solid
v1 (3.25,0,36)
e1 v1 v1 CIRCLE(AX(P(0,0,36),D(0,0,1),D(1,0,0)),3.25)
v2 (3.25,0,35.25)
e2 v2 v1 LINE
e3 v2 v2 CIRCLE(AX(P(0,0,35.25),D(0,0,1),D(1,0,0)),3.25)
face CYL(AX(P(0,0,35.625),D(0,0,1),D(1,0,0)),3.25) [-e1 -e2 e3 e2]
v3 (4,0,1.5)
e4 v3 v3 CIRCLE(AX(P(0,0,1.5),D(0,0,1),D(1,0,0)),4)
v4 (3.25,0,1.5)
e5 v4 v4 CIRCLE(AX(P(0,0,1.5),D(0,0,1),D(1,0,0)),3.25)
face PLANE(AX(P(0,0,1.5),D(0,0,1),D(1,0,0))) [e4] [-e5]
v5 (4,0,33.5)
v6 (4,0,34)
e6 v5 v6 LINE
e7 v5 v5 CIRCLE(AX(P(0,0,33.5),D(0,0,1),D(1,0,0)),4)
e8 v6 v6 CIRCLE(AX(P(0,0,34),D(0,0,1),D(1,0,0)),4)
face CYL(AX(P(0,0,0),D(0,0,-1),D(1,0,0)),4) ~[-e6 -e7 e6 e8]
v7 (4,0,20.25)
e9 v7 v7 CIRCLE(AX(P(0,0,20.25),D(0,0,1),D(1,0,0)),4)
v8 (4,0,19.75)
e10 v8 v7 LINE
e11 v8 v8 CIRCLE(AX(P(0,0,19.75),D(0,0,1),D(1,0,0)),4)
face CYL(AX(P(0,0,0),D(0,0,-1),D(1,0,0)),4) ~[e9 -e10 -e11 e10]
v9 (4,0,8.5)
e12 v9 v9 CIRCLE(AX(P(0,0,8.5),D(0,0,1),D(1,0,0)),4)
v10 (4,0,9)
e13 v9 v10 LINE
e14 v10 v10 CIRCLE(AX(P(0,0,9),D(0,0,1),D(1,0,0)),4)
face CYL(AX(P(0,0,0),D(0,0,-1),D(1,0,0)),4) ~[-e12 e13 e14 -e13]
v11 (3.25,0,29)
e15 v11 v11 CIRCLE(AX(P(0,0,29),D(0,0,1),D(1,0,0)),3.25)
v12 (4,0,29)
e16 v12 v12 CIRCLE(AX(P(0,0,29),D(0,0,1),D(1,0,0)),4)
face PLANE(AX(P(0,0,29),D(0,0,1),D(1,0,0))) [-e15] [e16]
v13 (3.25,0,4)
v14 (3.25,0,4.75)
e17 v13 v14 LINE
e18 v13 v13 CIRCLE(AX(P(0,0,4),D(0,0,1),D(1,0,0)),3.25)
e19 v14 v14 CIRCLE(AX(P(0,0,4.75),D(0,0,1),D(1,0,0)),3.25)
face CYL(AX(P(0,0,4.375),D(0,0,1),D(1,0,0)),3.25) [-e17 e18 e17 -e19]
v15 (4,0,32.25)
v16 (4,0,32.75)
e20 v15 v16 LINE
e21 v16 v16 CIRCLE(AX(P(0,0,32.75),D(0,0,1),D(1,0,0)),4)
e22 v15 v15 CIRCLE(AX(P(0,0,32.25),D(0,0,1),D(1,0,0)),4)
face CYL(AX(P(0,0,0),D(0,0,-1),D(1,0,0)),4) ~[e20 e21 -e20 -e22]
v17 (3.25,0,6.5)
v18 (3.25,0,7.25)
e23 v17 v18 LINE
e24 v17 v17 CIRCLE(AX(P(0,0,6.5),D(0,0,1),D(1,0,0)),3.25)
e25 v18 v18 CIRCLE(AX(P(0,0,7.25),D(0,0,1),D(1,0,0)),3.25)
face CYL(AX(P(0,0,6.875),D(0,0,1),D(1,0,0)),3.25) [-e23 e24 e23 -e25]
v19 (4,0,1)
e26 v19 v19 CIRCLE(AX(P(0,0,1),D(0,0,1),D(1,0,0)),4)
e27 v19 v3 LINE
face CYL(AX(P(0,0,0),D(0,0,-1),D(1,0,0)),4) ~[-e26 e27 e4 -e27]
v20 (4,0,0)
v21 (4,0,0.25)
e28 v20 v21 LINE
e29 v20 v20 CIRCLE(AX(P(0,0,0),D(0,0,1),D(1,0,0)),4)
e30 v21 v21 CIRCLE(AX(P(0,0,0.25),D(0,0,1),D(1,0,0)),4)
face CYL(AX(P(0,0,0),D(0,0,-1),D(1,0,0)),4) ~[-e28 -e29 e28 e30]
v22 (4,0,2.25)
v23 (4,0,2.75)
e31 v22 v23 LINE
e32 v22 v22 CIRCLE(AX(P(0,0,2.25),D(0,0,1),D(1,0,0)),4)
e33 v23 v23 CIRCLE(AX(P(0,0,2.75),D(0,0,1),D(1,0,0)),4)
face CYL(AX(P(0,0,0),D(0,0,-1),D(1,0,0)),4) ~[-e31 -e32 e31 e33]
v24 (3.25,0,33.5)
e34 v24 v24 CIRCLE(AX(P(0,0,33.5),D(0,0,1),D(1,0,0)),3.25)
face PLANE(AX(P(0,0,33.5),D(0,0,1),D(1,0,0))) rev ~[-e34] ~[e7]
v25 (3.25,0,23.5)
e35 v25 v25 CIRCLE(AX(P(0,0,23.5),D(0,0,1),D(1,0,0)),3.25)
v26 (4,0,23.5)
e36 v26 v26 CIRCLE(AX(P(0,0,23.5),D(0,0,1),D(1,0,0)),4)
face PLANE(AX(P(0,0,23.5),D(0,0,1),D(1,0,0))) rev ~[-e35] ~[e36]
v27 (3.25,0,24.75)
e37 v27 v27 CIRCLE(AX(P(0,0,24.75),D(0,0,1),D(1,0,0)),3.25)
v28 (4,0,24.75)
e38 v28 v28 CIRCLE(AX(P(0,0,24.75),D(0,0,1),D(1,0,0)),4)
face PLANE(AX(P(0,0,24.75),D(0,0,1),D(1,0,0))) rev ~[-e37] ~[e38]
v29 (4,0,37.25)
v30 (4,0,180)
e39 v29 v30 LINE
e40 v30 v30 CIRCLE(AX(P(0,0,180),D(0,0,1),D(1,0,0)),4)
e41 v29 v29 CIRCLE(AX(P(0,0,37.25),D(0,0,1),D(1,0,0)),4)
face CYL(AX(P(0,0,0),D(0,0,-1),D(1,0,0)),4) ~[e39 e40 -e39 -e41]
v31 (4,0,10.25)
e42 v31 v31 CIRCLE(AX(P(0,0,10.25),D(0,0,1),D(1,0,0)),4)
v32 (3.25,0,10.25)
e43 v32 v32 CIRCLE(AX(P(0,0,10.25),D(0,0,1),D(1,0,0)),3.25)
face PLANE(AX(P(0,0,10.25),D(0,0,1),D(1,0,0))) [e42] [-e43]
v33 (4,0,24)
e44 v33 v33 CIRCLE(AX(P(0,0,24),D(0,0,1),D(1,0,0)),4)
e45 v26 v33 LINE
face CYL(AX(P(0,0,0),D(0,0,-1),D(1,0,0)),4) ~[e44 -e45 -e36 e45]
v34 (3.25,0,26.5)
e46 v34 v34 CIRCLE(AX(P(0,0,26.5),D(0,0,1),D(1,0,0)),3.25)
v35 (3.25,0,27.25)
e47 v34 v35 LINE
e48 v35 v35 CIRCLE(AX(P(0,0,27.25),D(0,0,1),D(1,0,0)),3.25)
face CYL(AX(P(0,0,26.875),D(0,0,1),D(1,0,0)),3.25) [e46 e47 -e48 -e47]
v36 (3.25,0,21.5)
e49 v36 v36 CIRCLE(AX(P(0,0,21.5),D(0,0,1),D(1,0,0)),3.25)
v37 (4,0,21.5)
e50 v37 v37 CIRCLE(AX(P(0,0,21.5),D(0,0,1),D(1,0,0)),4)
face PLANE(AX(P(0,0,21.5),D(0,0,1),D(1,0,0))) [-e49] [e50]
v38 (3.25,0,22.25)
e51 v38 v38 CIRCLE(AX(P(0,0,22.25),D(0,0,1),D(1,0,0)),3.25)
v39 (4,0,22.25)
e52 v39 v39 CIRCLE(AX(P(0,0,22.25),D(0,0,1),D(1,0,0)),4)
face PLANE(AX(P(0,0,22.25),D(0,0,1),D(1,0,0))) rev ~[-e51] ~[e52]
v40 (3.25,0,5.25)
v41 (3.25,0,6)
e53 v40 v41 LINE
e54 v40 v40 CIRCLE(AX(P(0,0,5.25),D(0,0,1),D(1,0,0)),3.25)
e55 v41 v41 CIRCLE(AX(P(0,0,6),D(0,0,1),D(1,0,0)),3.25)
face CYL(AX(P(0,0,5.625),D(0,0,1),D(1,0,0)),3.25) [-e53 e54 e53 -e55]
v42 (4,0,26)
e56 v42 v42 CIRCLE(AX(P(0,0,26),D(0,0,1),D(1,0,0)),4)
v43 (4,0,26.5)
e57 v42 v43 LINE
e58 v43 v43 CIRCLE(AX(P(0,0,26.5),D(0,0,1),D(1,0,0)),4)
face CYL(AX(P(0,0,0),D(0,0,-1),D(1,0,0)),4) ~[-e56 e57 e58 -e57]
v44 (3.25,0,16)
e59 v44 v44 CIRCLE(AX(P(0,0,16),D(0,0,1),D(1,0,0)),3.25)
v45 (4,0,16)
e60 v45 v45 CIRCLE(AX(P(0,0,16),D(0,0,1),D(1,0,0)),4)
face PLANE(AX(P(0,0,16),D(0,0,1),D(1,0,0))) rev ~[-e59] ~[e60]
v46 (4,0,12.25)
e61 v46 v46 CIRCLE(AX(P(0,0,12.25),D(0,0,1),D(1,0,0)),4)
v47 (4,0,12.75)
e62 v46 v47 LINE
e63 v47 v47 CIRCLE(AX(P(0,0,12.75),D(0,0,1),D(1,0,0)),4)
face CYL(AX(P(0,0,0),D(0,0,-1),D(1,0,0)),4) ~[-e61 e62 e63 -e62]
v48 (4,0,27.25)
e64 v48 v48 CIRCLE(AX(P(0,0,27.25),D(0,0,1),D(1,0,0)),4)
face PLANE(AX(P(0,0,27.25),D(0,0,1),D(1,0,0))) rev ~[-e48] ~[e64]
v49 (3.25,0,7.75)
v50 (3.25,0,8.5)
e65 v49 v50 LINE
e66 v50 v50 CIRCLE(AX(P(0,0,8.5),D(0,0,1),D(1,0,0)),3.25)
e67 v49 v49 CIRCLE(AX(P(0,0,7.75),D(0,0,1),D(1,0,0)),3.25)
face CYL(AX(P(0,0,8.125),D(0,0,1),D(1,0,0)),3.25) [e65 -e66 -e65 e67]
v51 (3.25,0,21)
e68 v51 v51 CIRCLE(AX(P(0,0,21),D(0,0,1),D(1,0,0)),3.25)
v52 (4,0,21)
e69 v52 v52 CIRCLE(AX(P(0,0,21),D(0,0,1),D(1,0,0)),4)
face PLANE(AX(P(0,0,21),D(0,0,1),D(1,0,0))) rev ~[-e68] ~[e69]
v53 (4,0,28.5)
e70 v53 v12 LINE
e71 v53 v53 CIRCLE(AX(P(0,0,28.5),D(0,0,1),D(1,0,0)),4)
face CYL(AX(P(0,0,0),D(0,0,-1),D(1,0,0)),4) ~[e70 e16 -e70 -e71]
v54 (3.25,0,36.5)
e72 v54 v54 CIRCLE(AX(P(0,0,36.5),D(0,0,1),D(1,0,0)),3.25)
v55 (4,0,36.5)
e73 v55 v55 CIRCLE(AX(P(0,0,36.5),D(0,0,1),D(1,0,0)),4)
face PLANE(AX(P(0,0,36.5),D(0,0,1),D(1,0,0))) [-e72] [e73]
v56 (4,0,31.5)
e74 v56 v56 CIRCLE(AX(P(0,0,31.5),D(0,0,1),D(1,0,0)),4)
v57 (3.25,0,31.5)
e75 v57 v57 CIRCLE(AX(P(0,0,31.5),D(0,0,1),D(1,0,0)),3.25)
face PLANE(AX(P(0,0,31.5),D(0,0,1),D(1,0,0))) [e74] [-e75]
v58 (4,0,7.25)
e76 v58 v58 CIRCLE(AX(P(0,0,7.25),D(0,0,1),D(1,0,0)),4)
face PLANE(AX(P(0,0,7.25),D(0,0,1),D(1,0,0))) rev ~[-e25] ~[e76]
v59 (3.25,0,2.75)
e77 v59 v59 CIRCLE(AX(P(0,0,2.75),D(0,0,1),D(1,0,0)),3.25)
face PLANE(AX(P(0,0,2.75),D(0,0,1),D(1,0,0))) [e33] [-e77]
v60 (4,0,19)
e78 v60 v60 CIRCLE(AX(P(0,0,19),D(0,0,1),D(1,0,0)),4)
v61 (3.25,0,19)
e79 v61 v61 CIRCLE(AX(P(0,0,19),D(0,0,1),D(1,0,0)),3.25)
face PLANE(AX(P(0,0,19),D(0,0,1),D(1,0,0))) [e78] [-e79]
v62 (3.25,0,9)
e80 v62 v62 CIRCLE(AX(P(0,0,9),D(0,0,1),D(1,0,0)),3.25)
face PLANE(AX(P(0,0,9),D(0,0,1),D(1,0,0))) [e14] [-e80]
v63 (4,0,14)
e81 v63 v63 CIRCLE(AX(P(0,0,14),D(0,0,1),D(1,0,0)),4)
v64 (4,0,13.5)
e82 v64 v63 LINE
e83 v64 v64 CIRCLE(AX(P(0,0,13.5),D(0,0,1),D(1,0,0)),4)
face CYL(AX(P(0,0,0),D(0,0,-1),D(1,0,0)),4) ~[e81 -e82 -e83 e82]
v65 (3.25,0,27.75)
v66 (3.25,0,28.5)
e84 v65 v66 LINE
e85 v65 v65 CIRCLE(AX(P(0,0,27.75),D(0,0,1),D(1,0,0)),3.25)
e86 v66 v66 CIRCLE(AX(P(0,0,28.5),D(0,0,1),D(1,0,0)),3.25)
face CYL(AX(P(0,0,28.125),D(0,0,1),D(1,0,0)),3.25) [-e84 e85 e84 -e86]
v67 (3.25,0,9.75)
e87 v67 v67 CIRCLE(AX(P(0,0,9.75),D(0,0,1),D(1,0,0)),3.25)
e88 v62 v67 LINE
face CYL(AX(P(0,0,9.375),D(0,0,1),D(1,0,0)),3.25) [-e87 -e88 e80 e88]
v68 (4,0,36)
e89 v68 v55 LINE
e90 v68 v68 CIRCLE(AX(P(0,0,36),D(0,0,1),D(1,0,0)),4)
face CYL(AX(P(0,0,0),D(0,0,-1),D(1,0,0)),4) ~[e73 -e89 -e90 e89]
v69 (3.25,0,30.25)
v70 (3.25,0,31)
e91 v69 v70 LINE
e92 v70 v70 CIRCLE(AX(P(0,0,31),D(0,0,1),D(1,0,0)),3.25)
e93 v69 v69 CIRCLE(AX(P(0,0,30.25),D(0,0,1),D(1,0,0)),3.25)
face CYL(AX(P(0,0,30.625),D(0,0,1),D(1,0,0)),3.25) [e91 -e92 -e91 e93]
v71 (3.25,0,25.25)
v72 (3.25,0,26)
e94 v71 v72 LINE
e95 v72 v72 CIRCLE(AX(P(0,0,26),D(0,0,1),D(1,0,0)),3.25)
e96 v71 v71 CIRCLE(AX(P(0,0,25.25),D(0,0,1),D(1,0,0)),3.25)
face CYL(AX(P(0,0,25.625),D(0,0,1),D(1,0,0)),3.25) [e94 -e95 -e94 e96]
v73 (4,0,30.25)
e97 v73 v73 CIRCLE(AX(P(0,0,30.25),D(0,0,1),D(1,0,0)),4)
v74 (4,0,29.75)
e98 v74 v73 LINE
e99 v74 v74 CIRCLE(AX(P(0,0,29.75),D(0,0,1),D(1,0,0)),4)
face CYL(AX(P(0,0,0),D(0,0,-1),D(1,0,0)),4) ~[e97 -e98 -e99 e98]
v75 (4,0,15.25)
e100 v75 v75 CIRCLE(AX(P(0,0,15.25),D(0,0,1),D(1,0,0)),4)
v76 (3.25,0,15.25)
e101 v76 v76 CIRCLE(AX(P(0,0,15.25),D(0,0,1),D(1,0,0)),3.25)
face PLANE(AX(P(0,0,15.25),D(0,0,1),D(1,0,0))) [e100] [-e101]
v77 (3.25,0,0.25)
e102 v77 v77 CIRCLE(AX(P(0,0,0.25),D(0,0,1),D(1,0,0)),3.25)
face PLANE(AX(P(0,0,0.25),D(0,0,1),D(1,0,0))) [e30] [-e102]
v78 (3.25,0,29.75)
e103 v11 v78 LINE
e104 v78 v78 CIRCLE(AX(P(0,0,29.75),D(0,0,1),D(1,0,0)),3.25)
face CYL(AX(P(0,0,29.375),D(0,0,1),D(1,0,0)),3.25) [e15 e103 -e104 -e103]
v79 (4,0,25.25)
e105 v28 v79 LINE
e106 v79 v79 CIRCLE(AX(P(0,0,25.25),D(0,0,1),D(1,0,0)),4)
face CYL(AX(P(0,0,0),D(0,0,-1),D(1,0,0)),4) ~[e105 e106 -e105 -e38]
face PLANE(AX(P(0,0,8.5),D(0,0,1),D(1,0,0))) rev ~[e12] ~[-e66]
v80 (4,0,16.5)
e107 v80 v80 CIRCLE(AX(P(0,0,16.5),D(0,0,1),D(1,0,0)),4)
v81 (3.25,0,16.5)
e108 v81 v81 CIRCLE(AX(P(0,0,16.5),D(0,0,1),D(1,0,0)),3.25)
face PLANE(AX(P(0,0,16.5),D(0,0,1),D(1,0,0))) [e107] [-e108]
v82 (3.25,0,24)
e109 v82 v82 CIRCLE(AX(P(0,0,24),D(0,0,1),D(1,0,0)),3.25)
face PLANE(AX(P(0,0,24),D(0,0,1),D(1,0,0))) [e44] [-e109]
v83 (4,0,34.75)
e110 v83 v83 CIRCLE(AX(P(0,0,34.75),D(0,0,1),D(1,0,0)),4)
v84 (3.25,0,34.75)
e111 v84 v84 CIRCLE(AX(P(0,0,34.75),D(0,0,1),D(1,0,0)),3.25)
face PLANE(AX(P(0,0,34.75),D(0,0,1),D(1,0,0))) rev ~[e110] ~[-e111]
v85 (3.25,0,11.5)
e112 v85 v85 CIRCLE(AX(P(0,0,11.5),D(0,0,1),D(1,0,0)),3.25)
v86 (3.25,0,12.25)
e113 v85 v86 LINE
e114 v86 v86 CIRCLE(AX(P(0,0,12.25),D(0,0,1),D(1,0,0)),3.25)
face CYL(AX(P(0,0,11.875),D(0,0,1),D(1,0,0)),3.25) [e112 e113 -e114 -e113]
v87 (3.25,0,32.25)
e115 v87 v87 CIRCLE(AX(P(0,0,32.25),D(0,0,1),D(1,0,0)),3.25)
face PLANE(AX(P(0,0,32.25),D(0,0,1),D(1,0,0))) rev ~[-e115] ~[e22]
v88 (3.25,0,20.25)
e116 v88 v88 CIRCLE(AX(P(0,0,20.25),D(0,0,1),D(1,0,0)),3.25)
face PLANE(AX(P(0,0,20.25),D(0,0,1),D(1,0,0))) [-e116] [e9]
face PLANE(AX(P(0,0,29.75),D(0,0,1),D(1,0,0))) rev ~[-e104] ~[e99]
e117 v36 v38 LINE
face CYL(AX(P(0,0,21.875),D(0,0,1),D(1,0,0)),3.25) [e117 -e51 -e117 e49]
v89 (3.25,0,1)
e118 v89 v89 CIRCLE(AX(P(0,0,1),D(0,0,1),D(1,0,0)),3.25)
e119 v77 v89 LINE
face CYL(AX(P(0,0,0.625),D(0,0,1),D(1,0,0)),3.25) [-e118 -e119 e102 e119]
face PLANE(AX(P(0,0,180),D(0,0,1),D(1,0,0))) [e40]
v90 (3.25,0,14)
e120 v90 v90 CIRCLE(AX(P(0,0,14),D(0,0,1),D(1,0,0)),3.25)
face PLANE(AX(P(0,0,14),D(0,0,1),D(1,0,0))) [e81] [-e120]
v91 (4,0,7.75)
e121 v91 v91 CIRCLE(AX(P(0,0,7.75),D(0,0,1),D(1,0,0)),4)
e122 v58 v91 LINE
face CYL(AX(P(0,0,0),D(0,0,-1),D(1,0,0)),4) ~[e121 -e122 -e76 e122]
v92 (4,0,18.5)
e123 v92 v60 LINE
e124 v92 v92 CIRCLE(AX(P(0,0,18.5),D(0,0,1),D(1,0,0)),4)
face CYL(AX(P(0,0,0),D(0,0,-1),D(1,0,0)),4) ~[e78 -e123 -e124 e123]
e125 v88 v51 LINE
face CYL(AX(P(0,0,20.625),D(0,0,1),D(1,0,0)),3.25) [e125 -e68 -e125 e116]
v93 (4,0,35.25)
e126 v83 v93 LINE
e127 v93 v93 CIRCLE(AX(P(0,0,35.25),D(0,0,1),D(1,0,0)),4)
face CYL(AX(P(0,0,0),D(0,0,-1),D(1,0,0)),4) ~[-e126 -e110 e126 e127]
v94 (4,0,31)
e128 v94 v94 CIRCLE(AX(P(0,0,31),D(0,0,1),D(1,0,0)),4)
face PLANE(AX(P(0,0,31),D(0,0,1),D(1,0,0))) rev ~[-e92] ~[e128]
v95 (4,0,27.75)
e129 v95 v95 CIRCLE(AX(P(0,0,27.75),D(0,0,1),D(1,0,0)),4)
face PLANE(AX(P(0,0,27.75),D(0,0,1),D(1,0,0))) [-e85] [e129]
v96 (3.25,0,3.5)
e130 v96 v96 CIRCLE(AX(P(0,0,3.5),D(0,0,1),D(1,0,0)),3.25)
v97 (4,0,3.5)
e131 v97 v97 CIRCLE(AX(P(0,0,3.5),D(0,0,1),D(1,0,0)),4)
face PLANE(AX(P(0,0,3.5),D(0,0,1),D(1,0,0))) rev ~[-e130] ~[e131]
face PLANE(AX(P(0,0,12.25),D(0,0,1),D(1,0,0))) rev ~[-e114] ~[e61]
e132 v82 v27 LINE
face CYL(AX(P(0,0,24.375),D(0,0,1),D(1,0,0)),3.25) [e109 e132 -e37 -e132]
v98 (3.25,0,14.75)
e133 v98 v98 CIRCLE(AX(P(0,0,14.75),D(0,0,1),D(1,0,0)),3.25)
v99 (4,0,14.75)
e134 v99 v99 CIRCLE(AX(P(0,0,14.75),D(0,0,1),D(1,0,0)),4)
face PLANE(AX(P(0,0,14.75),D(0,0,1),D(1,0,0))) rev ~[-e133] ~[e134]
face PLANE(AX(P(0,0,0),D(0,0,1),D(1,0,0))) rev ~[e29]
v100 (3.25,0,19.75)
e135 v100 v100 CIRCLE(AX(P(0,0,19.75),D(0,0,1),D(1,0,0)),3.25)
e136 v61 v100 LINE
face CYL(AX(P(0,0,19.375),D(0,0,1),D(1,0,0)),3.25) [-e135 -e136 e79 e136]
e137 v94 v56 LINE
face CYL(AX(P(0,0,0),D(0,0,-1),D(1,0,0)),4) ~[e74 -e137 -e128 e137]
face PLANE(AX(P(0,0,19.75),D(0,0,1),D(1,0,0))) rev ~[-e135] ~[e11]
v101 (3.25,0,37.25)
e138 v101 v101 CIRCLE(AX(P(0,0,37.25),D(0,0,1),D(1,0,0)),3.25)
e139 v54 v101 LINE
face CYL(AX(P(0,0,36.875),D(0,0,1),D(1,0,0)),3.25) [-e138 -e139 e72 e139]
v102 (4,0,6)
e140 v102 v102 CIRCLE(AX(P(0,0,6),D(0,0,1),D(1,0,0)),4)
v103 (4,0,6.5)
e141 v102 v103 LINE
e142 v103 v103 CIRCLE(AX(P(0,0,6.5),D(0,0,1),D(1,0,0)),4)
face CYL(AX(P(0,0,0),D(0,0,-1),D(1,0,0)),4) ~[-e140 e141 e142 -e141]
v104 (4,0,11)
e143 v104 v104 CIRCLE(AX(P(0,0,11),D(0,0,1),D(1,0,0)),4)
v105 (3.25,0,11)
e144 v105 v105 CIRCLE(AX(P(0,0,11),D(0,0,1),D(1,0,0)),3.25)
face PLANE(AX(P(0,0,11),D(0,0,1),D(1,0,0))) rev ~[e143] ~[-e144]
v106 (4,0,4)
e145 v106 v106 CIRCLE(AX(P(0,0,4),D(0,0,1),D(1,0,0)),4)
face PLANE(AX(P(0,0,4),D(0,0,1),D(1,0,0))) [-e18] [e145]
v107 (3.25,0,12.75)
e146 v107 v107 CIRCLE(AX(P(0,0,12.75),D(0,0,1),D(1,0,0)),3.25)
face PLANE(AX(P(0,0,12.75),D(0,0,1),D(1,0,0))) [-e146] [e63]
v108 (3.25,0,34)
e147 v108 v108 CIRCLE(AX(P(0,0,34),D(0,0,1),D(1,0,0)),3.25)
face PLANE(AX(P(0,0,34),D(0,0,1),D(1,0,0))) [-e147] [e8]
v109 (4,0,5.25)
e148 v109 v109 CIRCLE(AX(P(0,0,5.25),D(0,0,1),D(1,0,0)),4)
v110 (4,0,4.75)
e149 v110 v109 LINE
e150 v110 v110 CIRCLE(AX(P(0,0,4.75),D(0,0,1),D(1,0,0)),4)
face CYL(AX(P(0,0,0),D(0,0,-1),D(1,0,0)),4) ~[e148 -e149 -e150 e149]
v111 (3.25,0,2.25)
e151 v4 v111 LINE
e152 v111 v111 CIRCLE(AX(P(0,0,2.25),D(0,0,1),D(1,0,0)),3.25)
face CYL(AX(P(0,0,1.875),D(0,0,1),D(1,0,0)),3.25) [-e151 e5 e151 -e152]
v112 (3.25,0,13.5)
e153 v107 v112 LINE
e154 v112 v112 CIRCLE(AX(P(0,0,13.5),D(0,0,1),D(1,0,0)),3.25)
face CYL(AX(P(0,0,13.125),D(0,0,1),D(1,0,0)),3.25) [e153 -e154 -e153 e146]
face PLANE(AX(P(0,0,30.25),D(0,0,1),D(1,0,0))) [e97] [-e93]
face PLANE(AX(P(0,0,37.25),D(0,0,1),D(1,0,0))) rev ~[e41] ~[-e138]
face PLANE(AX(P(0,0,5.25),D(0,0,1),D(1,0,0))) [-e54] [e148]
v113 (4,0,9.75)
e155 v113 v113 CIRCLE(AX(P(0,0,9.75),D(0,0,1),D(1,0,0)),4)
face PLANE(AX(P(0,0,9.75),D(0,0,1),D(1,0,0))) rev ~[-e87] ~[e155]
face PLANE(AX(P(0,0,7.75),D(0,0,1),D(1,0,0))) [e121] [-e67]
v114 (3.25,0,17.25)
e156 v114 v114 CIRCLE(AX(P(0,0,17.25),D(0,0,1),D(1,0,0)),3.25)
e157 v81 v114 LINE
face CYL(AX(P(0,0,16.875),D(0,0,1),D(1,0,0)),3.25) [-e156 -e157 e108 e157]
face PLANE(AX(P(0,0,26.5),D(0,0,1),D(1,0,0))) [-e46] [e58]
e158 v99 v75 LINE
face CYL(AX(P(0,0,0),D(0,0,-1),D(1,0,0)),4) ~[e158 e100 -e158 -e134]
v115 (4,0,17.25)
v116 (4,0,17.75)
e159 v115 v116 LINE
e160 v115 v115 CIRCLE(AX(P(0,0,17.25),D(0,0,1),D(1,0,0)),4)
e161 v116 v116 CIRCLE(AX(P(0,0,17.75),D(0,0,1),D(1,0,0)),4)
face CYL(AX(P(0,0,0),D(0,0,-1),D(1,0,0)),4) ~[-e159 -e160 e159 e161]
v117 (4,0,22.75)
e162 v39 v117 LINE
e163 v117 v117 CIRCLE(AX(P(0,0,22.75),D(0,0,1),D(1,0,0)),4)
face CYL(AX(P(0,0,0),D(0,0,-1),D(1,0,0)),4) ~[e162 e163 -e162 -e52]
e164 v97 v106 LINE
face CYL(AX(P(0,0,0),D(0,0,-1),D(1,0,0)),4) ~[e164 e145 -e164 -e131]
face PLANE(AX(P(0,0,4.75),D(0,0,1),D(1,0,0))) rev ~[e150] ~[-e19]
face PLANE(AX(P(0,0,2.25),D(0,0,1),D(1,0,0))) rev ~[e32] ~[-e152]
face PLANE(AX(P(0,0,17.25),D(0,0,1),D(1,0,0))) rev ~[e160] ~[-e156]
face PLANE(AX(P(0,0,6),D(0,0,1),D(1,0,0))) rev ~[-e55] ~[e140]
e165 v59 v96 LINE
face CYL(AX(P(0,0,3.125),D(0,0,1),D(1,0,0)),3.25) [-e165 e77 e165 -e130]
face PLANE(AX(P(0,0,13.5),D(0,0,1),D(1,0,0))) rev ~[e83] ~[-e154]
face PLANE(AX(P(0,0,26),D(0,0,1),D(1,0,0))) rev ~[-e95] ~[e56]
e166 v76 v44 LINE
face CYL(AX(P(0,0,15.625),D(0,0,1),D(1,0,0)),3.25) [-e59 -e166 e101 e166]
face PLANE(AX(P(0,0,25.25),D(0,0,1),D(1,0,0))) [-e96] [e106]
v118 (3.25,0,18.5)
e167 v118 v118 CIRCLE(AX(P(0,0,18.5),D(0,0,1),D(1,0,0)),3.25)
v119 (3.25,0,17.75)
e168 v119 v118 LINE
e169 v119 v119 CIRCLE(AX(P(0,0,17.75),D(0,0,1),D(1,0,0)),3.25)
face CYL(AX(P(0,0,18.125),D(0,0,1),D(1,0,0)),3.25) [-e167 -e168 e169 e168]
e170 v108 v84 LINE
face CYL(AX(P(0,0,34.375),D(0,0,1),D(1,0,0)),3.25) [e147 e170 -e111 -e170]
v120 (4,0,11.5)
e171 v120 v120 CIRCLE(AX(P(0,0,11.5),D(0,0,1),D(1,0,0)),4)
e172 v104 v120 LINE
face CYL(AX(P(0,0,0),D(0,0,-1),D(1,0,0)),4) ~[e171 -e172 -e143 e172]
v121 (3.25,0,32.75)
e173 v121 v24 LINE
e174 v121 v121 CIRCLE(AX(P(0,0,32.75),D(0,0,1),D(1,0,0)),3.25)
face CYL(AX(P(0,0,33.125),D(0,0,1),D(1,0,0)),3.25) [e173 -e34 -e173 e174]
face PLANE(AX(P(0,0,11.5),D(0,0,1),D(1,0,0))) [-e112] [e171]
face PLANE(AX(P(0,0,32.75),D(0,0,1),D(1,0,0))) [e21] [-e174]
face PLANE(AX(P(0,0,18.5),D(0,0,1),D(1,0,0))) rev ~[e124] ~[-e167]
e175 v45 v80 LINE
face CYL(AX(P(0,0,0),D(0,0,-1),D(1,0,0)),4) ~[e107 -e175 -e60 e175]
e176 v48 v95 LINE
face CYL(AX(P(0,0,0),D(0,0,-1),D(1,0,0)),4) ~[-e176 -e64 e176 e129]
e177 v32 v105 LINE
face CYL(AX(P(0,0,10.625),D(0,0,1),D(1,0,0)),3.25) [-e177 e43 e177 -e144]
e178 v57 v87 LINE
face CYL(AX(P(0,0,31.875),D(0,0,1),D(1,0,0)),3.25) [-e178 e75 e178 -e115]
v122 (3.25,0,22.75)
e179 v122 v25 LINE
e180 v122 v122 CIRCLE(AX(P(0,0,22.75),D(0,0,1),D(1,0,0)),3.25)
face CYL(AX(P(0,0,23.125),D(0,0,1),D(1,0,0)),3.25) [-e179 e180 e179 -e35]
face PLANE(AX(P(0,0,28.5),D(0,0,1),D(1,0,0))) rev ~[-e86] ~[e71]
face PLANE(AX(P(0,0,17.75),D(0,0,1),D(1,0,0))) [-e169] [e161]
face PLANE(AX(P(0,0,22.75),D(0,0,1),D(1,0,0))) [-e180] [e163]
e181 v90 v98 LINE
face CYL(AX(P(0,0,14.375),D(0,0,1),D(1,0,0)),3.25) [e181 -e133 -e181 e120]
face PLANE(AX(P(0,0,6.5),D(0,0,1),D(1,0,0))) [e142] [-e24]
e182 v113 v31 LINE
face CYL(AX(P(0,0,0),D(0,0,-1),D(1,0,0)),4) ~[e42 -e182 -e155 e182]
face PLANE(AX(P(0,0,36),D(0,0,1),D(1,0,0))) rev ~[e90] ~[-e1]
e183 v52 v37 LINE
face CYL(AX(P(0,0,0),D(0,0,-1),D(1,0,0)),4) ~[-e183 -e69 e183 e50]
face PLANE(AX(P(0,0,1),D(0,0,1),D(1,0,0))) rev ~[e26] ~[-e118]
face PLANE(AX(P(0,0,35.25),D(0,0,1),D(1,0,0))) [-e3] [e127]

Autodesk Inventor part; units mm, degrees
sketch "Skizze1" plane through (0, 0, 0) normal (0, 0, 1) x (1, 0, 0)
  circle A0 centre (0, 0) radius 4
extrude "Extrusion1" add sketch "Skizze1" along normal blind 180
ref_plane "Arbeitsebene1" through (0, 0, 0.625) normal (0, 0, 1) x (1, 0, 0)
sketch "Skizze2" plane through (0, 0, 0.625) normal (0, 0, 1) x (1, 0, 0)
  circle A0 centre (0, 0) radius 4
  circle A1 centre (0, 0) radius 3.25
extrude "Extrusion2" cut sketch "Skizze2" along normal mid plane 0.75
ref_plane "Arbeitsebene2" through (0, 0, 1.875) normal (0, 0, 1) x (1, 0, 0)
sketch "Skizze3" plane through (0, 0, 1.875) normal (0, 0, 1) x (1, 0, 0)
  circle A0 centre (0, 0) radius 4
  circle A1 centre (0, 0) radius 3.25
extrude "Extrusion3" cut sketch "Skizze3" along normal mid plane 0.75
ref_plane "Arbeitsebene3" through (0, 0, 3.125) normal (0, 0, 1) x (1, 0, 0)
sketch "Skizze4" plane through (0, 0, 3.125) normal (0, 0, 1) x (1, 0, 0)
  circle A0 centre (0, 0) radius 4
  circle A1 centre (0, 0) radius 3.25
extrude "Extrusion4" cut sketch "Skizze4" along normal mid plane 0.75
ref_plane "Arbeitsebene4" through (0, 0, 4.375) normal (0, 0, 1) x (1, 0, 0)
sketch "Skizze5" plane through (0, 0, 4.375) normal (0, 0, 1) x (1, 0, 0)
  circle A0 centre (0, 0) radius 4
  circle A1 centre (0, 0) radius 3.25
extrude "Extrusion5" cut sketch "Skizze5" along normal mid plane 0.75
ref_plane "Arbeitsebene5" through (0, 0, 5.625) normal (0, 0, 1) x (1, 0, 0)
sketch "Skizze6" plane through (0, 0, 5.625) normal (0, 0, 1) x (1, 0, 0)
  circle A0 centre (0, 0) radius 4
  circle A1 centre (0, 0) radius 3.25
extrude "Extrusion6" cut sketch "Skizze6" along normal mid plane 0.75
ref_plane "Arbeitsebene6" through (0, 0, 6.875) normal (0, 0, 1) x (1, 0, 0)
sketch "Skizze7" plane through (0, 0, 6.875) normal (0, 0, 1) x (1, 0, 0)
  circle A0 centre (0, 0) radius 4
  circle A1 centre (0, 0) radius 3.25
extrude "Extrusion7" cut sketch "Skizze7" along normal mid plane 0.75
ref_plane "Arbeitsebene7" through (0, 0, 8.125) normal (0, 0, 1) x (1, 0, 0)
sketch "Skizze8" plane through (0, 0, 8.125) normal (0, 0, 1) x (1, 0, 0)
  circle A0 centre (0, 0) radius 4
  circle A1 centre (0, 0) radius 3.25
extrude "Extrusion8" cut sketch "Skizze8" along normal mid plane 0.75
ref_plane "Arbeitsebene8" through (0, 0, 9.375) normal (0, 0, 1) x (1, 0, 0)
sketch "Skizze9" plane through (0, 0, 9.375) normal (0, 0, 1) x (1, 0, 0)
  circle A0 centre (0, 0) radius 4
  circle A1 centre (0, 0) radius 3.25
extrude "Extrusion9" cut sketch "Skizze9" along normal mid plane 0.75
ref_plane "Arbeitsebene9" through (0, 0, 10.625) normal (0, 0, 1) x (1, 0, 0)
sketch "Skizze10" plane through (0, 0, 10.625) normal (0, 0, 1) x (1, 0, 0)
  circle A0 centre (0, 0) radius 4
  circle A1 centre (0, 0) radius 3.25
extrude "Extrusion10" cut sketch "Skizze10" along normal mid plane 0.75
ref_plane "Arbeitsebene10" through (0, 0, 11.875) normal (0, 0, 1) x (1, 0, 0)
sketch "Skizze11" plane through (0, 0, 11.875) normal (0, 0, 1) x (1, 0, 0)
  circle A0 centre (0, 0) radius 4
  circle A1 centre (0, 0) radius 3.25
extrude "Extrusion11" cut sketch "Skizze11" along normal mid plane 0.75
ref_plane "Arbeitsebene11" through (0, 0, 13.125) normal (0, 0, 1) x (1, 0, 0)
sketch "Skizze12" plane through (0, 0, 13.125) normal (0, 0, 1) x (1, 0, 0)
  circle A0 centre (0, 0) radius 4
  circle A1 centre (0, 0) radius 3.25
extrude "Extrusion12" cut sketch "Skizze12" along normal mid plane 0.75
ref_plane "Arbeitsebene12" through (0, 0, 14.375) normal (0, 0, 1) x (1, 0, 0)
sketch "Skizze13" plane through (0, 0, 14.375) normal (0, 0, 1) x (1, 0, 0)
  circle A0 centre (0, 0) radius 4
  circle A1 centre (0, 0) radius 3.25
extrude "Extrusion13" cut sketch "Skizze13" along normal mid plane 0.75
ref_plane "Arbeitsebene13" through (0, 0, 15.625) normal (0, 0, 1) x (1, 0, 0)
sketch "Skizze14" plane through (0, 0, 15.625) normal (0, 0, 1) x (1, 0, 0)
  circle A0 centre (0, 0) radius 4
  circle A1 centre (0, 0) radius 3.25
extrude "Extrusion14" cut sketch "Skizze14" along normal mid plane 0.75
ref_plane "Arbeitsebene14" through (0, 0, 16.875) normal (0, 0, 1) x (1, 0, 0)
sketch "Skizze15" plane through (0, 0, 16.875) normal (0, 0, 1) x (1, 0, 0)
  circle A0 centre (0, 0) radius 4
  circle A1 centre (0, 0) radius 3.25
extrude "Extrusion15" cut sketch "Skizze15" along normal mid plane 0.75
ref_plane "Arbeitsebene15" through (0, 0, 18.125) normal (0, 0, 1) x (1, 0, 0)
sketch "Skizze16" plane through (0, 0, 18.125) normal (0, 0, 1) x (1, 0, 0)
  circle A0 centre (0, 0) radius 4
  circle A1 centre (0, 0) radius 3.25
extrude "Extrusion16" cut sketch "Skizze16" along normal mid plane 0.75
ref_plane "Arbeitsebene16" through (0, 0, 19.375) normal (0, 0, 1) x (1, 0, 0)
sketch "Skizze17" plane through (0, 0, 19.375) normal (0, 0, 1) x (1, 0, 0)
  circle A0 centre (0, 0) radius 4
  circle A1 centre (0, 0) radius 3.25
extrude "Extrusion17" cut sketch "Skizze17" along normal mid plane 0.75
ref_plane "Arbeitsebene17" through (0, 0, 20.625) normal (0, 0, 1) x (1, 0, 0)
sketch "Skizze18" plane through (0, 0, 20.625) normal (0, 0, 1) x (1, 0, 0)
  circle A0 centre (0, 0) radius 4
  circle A1 centre (0, 0) radius 3.25
extrude "Extrusion18" cut sketch "Skizze18" along normal mid plane 0.75
ref_plane "Arbeitsebene18" through (0, 0, 21.875) normal (0, 0, 1) x (1, 0, 0)
sketch "Skizze19" plane through (0, 0, 21.875) normal (0, 0, 1) x (1, 0, 0)
  circle A0 centre (0, 0) radius 4
  circle A1 centre (0, 0) radius 3.25
extrude "Extrusion19" cut sketch "Skizze19" along normal mid plane 0.75
ref_plane "Arbeitsebene19" through (0, 0, 23.125) normal (0, 0, 1) x (1, 0, 0)
sketch "Skizze20" plane through (0, 0, 23.125) normal (0, 0, 1) x (1, 0, 0)
  circle A0 centre (0, 0) radius 4
  circle A1 centre (0, 0) radius 3.25
extrude "Extrusion20" cut sketch "Skizze20" along normal mid plane 0.75
ref_plane "Arbeitsebene20" through (0, 0, 24.375) normal (0, 0, 1) x (1, 0, 0)
sketch "Skizze21" plane through (0, 0, 24.375) normal (0, 0, 1) x (1, 0, 0)
  circle A0 centre (0, 0) radius 4
  circle A1 centre (0, 0) radius 3.25
extrude "Extrusion21" cut sketch "Skizze21" along normal mid plane 0.75
ref_plane "Arbeitsebene21" through (0, 0, 25.625) normal (0, 0, 1) x (1, 0, 0)
sketch "Skizze22" plane through (0, 0, 25.625) normal (0, 0, 1) x (1, 0, 0)
  circle A0 centre (0, 0) radius 4
  circle A1 centre (0, 0) radius 3.25
extrude "Extrusion22" cut sketch "Skizze22" along normal mid plane 0.75
ref_plane "Arbeitsebene22" through (0, 0, 26.875) normal (0, 0, 1) x (1, 0, 0)
sketch "Skizze23" plane through (0, 0, 26.875) normal (0, 0, 1) x (1, 0, 0)
  circle A0 centre (0, 0) radius 4
  circle A1 centre (0, 0) radius 3.25
extrude "Extrusion23" cut sketch "Skizze23" along normal mid plane 0.75
ref_plane "Arbeitsebene23" through (0, 0, 28.125) normal (0, 0, 1) x (1, 0, 0)
sketch "Skizze24" plane through (0, 0, 28.125) normal (0, 0, 1) x (1, 0, 0)
  circle A0 centre (0, 0) radius 4
  circle A1 centre (0, 0) radius 3.25
extrude "Extrusion24" cut sketch "Skizze24" along normal mid plane 0.75
ref_plane "Arbeitsebene24" through (0, 0, 29.375) normal (0, 0, 1) x (1, 0, 0)
sketch "Skizze25" plane through (0, 0, 29.375) normal (0, 0, 1) x (1, 0, 0)
  circle A0 centre (0, 0) radius 4
  circle A1 centre (0, 0) radius 3.25
extrude "Extrusion25" cut sketch "Skizze25" along normal mid plane 0.75
ref_plane "Arbeitsebene25" through (0, 0, 30.625) normal (0, 0, 1) x (1, 0, 0)
sketch "Skizze26" plane through (0, 0, 30.625) normal (0, 0, 1) x (1, 0, 0)
  circle A0 centre (0, 0) radius 4
  circle A1 centre (0, 0) radius 3.25
extrude "Extrusion26" cut sketch "Skizze26" along normal mid plane 0.75
ref_plane "Arbeitsebene26" through (0, 0, 31.875) normal (0, 0, 1) x (1, 0, 0)
sketch "Skizze27" plane through (0, 0, 31.875) normal (0, 0, 1) x (1, 0, 0)
  circle A0 centre (0, 0) radius 4
  circle A1 centre (0, 0) radius 3.25
extrude "Extrusion27" cut sketch "Skizze27" along normal mid plane 0.75
ref_plane "Arbeitsebene27" through (0, 0, 33.125) normal (0, 0, 1) x (1, 0, 0)
sketch "Skizze28" plane through (0, 0, 33.125) normal (0, 0, 1) x (1, 0, 0)
  circle A0 centre (0, 0) radius 4
  circle A1 centre (0, 0) radius 3.25
extrude "Extrusion28" cut sketch "Skizze28" along normal mid plane 0.75
ref_plane "Arbeitsebene28" through (0, 0, 34.375) normal (0, 0, 1) x (1, 0, 0)
sketch "Skizze29" plane through (0, 0, 34.375) normal (0, 0, 1) x (1, 0, 0)
  circle A0 centre (0, 0) radius 4
  circle A1 centre (0, 0) radius 3.25
extrude "Extrusion29" cut sketch "Skizze29" along normal mid plane 0.75
ref_plane "Arbeitsebene29" through (0, 0, 35.625) normal (0, 0, 1) x (1, 0, 0)
sketch "Skizze30" plane through (0, 0, 35.625) normal (0, 0, 1) x (1, 0, 0)
  circle A0 centre (0, 0) radius 4
  circle A1 centre (0, 0) radius 3.25
extrude "Extrusion30" cut sketch "Skizze30" along normal mid plane 0.75
ref_plane "Arbeitsebene30" through (0, 0, 36.875) normal (0, 0, 1) x (1, 0, 0)
sketch "Skizze31" plane through (0, 0, 36.875) normal (0, 0, 1) x (1, 0, 0)
  circle A0 centre (0, 0) radius 4
  circle A1 centre (0, 0) radius 3.25
extrude "Extrusion31" cut sketch "Skizze31" along normal mid plane 0.75
properties part number "Gewindestange_M8"
